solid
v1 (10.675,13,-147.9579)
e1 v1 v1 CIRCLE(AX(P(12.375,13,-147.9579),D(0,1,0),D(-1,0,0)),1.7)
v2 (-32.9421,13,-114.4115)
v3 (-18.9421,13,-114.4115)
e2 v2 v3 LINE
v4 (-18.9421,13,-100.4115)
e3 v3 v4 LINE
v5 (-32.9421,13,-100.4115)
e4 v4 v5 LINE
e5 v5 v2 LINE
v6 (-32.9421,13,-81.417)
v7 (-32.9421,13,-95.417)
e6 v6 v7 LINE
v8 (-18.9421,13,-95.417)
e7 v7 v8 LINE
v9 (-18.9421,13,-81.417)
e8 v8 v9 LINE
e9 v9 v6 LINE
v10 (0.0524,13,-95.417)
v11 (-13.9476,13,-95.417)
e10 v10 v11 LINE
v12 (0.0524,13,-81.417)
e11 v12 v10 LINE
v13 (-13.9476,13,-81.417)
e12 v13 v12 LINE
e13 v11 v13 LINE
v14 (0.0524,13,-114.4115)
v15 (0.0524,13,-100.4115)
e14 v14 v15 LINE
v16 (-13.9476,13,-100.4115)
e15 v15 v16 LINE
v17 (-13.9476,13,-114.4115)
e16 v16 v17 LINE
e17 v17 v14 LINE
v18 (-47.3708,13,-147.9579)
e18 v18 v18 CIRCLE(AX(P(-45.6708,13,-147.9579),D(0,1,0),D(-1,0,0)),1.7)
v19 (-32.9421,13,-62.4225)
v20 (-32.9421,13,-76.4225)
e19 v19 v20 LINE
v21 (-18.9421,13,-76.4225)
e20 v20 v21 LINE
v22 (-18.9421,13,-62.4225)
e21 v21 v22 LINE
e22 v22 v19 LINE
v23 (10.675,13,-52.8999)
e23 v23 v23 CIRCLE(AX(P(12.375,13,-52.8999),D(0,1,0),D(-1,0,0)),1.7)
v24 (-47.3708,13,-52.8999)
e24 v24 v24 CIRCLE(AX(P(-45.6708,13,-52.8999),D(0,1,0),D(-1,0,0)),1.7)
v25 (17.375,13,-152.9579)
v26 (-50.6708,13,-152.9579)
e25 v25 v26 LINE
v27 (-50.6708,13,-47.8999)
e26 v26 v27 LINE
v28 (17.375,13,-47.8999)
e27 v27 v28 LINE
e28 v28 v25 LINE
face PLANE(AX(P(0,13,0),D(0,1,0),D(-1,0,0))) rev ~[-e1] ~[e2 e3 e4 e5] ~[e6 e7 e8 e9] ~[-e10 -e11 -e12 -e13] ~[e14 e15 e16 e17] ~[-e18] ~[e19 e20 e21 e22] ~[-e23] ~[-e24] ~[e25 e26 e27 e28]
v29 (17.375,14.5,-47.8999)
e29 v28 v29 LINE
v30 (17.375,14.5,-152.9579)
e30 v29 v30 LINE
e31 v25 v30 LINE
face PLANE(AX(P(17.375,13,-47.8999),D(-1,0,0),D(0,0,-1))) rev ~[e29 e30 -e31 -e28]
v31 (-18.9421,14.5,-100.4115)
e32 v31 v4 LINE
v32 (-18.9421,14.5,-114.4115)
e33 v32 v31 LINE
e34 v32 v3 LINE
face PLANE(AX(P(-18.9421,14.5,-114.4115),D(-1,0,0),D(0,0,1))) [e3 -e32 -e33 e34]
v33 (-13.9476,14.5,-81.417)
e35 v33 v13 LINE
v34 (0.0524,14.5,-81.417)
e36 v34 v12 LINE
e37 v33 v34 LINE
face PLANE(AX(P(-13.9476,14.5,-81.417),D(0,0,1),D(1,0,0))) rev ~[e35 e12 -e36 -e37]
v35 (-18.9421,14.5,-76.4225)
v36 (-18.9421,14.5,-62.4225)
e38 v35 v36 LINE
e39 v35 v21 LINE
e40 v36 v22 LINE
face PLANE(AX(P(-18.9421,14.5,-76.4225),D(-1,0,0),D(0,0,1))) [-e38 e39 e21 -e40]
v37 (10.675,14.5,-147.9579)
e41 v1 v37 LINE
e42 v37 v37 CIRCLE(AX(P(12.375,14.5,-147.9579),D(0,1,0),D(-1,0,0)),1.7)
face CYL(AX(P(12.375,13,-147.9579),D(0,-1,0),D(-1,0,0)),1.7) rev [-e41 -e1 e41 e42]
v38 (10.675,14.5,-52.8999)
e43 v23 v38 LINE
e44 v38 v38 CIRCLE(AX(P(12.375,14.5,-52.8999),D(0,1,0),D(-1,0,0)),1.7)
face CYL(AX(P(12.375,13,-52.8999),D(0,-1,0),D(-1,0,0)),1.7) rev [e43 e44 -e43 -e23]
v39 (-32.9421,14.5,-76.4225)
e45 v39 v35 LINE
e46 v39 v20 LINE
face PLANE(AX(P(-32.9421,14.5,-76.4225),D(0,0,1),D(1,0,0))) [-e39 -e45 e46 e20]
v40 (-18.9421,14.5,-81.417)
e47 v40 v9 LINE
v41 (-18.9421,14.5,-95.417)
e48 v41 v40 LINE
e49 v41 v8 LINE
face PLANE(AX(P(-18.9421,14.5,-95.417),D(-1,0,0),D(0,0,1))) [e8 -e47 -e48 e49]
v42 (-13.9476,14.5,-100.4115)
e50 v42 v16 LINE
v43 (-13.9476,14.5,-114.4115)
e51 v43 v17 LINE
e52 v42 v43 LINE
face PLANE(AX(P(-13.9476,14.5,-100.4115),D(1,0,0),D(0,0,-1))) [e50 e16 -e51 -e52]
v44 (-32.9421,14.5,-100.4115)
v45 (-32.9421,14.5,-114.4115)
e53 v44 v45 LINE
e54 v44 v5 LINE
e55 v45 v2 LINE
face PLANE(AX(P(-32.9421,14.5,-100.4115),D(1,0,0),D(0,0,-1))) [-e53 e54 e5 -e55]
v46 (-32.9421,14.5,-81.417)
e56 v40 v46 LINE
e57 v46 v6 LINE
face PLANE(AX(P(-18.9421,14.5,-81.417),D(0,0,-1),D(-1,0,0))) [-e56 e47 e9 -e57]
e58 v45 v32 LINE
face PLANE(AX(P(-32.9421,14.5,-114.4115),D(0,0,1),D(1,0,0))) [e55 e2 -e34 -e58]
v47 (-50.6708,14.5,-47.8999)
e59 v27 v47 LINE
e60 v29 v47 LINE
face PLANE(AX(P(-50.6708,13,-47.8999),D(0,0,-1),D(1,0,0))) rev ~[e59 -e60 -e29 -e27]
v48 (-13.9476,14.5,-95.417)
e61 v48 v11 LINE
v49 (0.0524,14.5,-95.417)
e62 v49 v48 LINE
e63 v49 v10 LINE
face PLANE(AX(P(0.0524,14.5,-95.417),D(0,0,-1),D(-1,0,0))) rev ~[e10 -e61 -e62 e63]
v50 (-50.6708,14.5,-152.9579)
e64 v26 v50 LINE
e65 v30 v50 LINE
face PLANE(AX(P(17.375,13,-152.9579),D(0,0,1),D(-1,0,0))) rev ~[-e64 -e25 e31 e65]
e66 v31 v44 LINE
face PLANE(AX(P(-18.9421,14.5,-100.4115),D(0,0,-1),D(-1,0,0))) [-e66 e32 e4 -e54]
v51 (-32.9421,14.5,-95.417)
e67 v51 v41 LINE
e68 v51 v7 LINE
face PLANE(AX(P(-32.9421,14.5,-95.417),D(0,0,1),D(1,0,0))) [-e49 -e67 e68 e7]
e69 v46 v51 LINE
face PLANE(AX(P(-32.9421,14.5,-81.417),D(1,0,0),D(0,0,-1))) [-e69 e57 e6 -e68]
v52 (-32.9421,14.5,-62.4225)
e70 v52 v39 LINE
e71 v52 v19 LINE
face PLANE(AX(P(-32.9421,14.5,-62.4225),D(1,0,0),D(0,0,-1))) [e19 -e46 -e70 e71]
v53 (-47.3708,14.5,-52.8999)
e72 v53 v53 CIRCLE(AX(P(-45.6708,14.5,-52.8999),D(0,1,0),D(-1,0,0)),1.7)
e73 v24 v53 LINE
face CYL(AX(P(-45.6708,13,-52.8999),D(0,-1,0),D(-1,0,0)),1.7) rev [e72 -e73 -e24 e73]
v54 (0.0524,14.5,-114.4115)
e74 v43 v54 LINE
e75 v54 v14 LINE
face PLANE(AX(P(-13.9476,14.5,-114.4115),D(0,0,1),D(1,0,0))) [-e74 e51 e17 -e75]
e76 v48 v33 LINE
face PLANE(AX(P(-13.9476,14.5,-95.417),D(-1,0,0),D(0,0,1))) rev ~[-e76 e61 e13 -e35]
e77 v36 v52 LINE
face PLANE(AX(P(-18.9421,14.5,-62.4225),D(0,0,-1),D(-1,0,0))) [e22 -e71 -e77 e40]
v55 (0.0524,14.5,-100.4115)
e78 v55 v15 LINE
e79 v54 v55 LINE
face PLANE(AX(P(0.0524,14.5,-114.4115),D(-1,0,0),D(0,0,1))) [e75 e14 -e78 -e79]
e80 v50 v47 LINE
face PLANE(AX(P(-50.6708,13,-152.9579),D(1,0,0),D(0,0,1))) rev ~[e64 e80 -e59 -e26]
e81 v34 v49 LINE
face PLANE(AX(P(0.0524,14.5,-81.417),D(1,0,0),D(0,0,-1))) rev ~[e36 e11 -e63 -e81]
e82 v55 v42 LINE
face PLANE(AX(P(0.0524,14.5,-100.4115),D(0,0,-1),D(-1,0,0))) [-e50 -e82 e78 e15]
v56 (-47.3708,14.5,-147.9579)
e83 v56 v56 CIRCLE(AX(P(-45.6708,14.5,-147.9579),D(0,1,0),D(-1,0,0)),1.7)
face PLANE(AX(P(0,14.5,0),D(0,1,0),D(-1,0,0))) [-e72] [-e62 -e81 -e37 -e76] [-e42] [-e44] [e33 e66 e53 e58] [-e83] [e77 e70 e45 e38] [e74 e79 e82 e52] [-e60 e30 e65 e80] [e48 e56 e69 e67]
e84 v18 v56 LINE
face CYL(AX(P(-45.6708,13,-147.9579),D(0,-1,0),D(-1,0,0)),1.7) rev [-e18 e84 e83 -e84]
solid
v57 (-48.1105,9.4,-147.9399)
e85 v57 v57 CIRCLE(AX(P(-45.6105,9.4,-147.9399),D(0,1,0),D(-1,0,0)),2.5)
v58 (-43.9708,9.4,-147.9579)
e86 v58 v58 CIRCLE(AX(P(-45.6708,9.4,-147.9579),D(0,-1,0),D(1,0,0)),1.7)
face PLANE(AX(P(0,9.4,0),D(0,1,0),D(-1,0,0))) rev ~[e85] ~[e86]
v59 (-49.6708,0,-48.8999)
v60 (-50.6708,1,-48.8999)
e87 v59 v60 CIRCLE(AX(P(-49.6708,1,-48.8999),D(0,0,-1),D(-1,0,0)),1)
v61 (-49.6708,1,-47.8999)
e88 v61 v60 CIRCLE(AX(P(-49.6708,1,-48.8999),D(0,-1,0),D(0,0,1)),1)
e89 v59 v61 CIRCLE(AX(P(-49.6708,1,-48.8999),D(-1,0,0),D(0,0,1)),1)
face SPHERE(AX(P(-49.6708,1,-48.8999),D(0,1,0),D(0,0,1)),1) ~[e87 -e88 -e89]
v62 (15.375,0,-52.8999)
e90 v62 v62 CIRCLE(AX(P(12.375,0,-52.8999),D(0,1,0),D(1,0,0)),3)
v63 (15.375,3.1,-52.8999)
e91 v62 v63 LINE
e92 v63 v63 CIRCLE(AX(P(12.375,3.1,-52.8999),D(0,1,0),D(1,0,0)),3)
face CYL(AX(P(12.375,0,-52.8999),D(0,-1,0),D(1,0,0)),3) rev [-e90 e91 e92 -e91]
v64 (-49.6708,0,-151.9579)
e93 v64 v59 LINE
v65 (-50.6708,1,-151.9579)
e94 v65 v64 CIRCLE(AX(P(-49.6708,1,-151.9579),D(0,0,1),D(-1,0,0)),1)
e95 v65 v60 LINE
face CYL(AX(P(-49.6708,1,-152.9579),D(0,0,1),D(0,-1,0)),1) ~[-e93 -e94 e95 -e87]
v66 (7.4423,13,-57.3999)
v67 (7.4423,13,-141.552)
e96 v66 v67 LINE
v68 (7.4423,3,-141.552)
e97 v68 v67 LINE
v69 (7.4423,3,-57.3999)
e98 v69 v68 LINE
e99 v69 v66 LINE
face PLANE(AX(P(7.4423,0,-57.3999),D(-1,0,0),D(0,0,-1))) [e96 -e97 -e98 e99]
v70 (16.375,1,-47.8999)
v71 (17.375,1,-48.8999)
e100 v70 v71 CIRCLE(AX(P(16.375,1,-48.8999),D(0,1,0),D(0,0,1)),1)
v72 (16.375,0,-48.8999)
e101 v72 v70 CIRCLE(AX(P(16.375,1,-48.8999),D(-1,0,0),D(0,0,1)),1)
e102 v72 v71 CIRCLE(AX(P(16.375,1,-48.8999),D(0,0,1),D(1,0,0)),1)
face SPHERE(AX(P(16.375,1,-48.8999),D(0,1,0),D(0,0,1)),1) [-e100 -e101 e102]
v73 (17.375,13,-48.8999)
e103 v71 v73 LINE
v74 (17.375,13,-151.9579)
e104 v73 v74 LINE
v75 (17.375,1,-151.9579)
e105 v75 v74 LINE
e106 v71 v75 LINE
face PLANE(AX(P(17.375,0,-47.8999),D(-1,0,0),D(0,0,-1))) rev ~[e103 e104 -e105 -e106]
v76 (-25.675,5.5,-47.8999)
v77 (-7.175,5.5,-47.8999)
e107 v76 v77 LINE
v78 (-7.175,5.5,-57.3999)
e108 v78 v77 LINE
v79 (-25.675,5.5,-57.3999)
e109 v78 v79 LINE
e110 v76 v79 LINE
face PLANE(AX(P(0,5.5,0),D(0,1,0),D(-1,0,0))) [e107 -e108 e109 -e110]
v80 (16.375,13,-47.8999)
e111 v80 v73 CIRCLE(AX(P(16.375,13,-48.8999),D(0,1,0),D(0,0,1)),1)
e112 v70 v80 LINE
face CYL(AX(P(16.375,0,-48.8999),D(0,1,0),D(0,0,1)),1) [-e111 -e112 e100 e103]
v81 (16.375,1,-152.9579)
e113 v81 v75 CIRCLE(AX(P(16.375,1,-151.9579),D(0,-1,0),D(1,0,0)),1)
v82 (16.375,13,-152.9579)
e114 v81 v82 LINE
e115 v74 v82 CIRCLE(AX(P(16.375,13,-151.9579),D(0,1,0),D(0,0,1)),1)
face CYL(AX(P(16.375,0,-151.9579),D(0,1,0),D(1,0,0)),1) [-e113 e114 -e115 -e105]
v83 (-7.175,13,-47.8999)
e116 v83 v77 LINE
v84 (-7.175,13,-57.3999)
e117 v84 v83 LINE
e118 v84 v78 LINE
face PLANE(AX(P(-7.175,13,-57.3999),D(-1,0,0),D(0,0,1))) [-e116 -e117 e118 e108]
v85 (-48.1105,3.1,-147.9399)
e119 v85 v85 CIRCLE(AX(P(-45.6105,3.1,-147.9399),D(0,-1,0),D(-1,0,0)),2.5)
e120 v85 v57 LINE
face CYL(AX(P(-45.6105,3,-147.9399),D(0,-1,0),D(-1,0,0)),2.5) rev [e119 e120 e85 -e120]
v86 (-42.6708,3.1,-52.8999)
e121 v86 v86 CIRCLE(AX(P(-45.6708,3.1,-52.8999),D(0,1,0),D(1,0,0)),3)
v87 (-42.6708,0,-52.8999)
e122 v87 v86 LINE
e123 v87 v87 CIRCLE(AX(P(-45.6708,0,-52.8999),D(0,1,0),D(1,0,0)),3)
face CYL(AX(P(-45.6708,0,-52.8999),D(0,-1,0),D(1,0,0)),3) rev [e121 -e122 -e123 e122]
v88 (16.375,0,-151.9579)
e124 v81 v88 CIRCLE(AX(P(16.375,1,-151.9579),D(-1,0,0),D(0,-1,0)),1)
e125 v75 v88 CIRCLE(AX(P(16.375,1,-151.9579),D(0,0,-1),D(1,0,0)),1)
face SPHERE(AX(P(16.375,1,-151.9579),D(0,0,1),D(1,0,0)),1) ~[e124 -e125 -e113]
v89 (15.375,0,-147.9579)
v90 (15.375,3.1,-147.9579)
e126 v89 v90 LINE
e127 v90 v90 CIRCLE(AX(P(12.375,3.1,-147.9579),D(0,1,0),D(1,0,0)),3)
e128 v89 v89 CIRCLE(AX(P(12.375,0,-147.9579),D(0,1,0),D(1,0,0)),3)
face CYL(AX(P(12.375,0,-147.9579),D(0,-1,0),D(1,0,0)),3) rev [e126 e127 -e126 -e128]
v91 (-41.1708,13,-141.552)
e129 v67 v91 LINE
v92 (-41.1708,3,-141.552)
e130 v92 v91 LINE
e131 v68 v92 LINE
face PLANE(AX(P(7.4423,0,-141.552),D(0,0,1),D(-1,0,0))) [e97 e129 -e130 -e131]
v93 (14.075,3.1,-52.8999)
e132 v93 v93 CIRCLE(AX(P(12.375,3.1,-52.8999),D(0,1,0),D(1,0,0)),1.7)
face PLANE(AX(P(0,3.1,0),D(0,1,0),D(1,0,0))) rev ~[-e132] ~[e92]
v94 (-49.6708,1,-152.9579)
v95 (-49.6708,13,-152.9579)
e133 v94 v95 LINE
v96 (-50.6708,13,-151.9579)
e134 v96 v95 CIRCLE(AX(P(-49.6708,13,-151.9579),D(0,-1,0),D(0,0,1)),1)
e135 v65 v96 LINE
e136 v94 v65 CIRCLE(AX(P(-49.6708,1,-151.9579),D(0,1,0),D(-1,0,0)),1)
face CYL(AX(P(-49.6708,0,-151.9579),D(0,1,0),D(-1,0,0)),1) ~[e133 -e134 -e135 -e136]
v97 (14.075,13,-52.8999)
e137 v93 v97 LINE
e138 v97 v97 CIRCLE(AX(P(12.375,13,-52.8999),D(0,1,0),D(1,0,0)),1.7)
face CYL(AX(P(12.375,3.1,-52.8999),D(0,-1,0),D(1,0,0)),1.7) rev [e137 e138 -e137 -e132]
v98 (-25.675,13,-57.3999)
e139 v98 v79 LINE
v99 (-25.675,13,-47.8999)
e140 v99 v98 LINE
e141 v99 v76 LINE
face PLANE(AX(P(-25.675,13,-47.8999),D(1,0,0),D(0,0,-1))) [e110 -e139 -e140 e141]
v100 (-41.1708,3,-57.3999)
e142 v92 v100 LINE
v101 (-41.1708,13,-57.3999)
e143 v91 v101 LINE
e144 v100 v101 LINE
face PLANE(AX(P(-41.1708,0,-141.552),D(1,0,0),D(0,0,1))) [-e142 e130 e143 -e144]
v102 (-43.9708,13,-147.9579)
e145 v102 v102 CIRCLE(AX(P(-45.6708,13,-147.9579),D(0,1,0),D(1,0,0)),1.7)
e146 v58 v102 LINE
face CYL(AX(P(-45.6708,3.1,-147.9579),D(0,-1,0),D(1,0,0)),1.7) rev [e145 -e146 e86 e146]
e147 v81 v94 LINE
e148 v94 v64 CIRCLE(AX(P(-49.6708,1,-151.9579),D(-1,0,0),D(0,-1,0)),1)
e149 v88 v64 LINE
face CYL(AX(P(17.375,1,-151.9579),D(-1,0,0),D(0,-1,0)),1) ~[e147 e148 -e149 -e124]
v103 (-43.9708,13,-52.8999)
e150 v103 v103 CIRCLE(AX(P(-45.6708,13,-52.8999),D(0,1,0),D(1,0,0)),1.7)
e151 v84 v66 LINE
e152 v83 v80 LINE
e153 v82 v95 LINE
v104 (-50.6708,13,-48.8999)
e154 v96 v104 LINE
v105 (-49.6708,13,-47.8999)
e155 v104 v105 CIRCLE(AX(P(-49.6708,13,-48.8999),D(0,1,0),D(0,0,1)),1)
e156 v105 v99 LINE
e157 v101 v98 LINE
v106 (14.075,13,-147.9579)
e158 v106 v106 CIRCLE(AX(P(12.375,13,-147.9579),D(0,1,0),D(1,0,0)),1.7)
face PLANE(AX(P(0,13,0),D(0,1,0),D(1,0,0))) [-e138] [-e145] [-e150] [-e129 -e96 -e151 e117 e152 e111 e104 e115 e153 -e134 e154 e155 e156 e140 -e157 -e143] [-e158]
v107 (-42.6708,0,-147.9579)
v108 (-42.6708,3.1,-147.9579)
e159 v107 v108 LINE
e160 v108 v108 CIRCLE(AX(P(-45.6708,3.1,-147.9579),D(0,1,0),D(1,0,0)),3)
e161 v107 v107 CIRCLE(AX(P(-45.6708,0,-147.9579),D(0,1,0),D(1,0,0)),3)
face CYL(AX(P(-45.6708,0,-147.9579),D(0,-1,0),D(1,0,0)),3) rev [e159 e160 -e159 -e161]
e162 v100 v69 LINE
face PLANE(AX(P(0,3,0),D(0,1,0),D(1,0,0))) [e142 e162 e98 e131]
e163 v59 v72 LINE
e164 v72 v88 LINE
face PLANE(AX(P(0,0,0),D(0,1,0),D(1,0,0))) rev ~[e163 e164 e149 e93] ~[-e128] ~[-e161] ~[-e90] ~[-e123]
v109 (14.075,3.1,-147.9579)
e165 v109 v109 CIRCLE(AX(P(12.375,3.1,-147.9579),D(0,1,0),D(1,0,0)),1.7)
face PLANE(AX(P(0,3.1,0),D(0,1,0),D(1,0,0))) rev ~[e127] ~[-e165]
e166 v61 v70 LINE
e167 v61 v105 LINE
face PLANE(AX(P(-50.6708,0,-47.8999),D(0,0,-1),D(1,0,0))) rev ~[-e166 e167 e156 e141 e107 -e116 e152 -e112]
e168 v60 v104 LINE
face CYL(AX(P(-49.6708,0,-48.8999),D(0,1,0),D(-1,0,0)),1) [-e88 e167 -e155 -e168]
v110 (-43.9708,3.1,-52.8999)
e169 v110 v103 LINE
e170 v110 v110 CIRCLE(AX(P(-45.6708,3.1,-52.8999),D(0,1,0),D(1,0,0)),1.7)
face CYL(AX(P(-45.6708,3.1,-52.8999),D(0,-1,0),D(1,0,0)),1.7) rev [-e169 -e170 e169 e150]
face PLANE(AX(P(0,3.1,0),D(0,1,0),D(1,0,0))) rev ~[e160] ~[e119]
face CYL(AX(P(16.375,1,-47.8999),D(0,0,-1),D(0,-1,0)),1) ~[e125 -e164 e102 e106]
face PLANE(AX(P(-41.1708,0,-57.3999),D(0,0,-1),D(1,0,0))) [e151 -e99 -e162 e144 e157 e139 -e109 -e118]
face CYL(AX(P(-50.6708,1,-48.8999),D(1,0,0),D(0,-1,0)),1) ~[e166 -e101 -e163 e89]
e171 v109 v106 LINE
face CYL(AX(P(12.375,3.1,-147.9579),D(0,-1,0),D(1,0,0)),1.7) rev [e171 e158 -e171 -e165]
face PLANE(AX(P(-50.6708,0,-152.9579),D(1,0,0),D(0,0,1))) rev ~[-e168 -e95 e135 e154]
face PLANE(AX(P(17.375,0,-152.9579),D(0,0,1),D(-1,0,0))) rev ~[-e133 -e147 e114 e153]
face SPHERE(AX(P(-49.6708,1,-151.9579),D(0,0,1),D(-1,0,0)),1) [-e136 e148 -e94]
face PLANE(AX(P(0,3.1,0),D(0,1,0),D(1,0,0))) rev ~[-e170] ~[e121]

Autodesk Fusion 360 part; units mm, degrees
sketch "Sketch1" plane through (0, 0, 0) normal (0, 1, 0) x (1, 0, 0)
  line L0 (-41.1708, 57.3999) -> (7.4423, 57.3999)
  line L1 (7.4423, 57.3999) -> (7.4423, 141.552)
  line L2 (7.4423, 141.552) -> (-41.1708, 141.552)
  line L3 (-41.1708, 141.552) -> (-41.1708, 57.3999)
  line L4 (-50.6708, 47.8999) -> (17.375, 47.8999)
  line L5 (17.375, 47.8999) -> (17.375, 152.9579)
  line L6 (17.375, 152.9579) -> (-50.6708, 152.9579)
  line L7 (-50.6708, 152.9579) -> (-50.6708, 47.8999)
  circle A0 centre (-45.6708, 147.9579) radius 1.7
  circle A1 centre (-45.6708, 52.8999) radius 1.7
  circle A2 centre (12.375, 52.8999) radius 1.7
  circle A3 centre (12.375, 147.9579) radius 1.7
  circle A4 centre (-45.6708, 52.8999) radius 3
  circle A5 centre (12.375, 52.8999) radius 3
  circle A6 centre (12.375, 147.9579) radius 3
  circle A7 centre (-45.6708, 147.9579) radius 3
  dimension "d1" = 105.058
  dimension "d2" = 68.0458
  dimension "d3" = 48.6131
  dimension "d4" = 84.1522
  dimension "d5" = 9.5
  dimension "d6" = 9.5
  dimension "d7" = 3.4
  dimension "d8" = 5
  dimension "d9" = 5
  dimension "d10" = 3.4
  dimension "d11" = 5
  dimension "d12" = 5
  dimension "d13" = 3.4
  dimension "d14" = 5
  dimension "d15" = 5
  dimension "d16" = 3.4
  dimension "d17" = 5
  dimension "d18" = 5
  dimension "d19" = 6
  dimension "d20" = 6
  dimension "d21" = 6
  dimension "d22" = 6
extrude "Extrude1" add sketch "Sketch1" along normal blind 9.9 from surface at 3.1 contours A4 | A5 | A6 | A7 makes body 1 at (-48.667, 9.7, -52.7503) makes body 2 at (-42.9063, 9.7, -149.1232) makes body 3 at (15.3713, 9.7, -52.7503) makes body 4 at (9.6106, 9.7, -149.1232)
extrude "Extrude2" add sketch "Sketch1" along normal blind 13 contours L4 L5 L6 L7 bodies 1 2 3 4
extrude "Extrude3" add sketch "Sketch1" along normal blind 3 contours L0 L1 L2 L3 bodies 1
sketch "Sketch2" plane through (0, 13, 0) normal (0, 1, 0) x (-1, 0, 0)
  circle A0 centre (45.6708, -52.8999) radius 1.7
  circle A1 centre (-12.375, -147.9579) radius 1.7
  line L0 (41.1708, -57.3999) -> (41.1708, -141.552)
  line L1 (41.1708, -141.552) -> (-7.4423, -141.552)
  line L2 (-7.4423, -141.552) -> (-7.4423, -57.3999)
  line L3 (-7.4423, -57.3999) -> (41.1708, -57.3999)
  line L4 (50.6708, -152.9579) -> (50.6708, -47.8999)
  line L5 (50.6708, -47.8999) -> (-17.375, -47.8999)
  line L6 (-17.375, -47.8999) -> (-17.375, -152.9579)
  line L7 (-17.375, -152.9579) -> (50.6708, -152.9579)
  circle A2 centre (45.6708, -147.9579) radius 1.7
  circle A3 centre (-12.375, -52.8999) radius 1.7
  line L8 (7.175, -47.8999) -> (25.675, -47.8999)
  line L9 (25.675, -47.8999) -> (25.675, -57.3999)
  line L10 (25.675, -57.3999) -> (7.175, -57.3999)
  line L11 (7.175, -57.3999) -> (7.175, -47.8999)
  line L12 (-17.375, -47.8999) -> (-17.375, -152.9579)
  line L13 (-17.375, -152.9579) -> (50.6708, -152.9579)
  line L14 (50.6708, -152.9579) -> (50.6708, -47.8999)
  line L15 (50.6708, -47.8999) -> (-17.375, -47.8999)
  line L16 (-17.375, -47.8999) -> (-17.375, -152.9579)
  point P0 (50.6708, -152.9579)
  point P1 (-17.375, -152.9579)
  point P2 (50.6708, -47.8999)
  point P3 (-17.375, -47.8999)
  dimension "d30" = 18.5
  dimension "d32" = 24.55
extrude "Extrude4" cut sketch "Sketch2" against normal blind 7.5 contours L3 L5 L8 L9 L10 L11 L15 bodies 1
sketch "Sketch3" plane through (0, 0, 0) normal (0, 1, 0) x (1, 0, 0)
sketch "Sketch4" plane through (0, 3, 0) normal (0, 1, 0) x (-1, 0, 0)
  line L0 (41.1708, -141.552) -> (41.1708, -57.3999)
  line L1 (41.1708, -57.3999) -> (-7.4423, -57.3999)
  line L2 (-7.4423, -57.3999) -> (-7.4423, -141.552)
  line L3 (-7.4423, -141.552) -> (41.1708, -141.552)
  line L4 (6.8441, -1.7803) -> (6.8447, -1.7809)
  line L5 (6.8447, -1.7809) -> (6.8447, -1.7812)
  line L6 (6.8447, -1.7812) -> (6.8447, -5.0625)
  line L7 (6.8447, -5.0625) -> (6.8447, -5.0629)
  line L8 (6.8447, -5.0629) -> (6.8441, -5.0634)
  line L9 (6.8441, -5.0634) -> (6.8438, -5.0635)
  line L10 (6.8438, -5.0635) -> (4.9688, -5.0635)
  line L11 (4.9688, -5.0635) -> (4.9684, -5.0634)
  line L12 (4.9684, -5.0634) -> (4.9678, -5.0629)
  line L13 (4.9678, -5.0629) -> (4.9678, -5.0625)
  line L14 (4.9678, -5.0625) -> (4.9678, -1.7812)
  line L15 (4.9678, -1.7812) -> (4.9678, -1.7809)
  line L16 (4.9678, -1.7809) -> (4.9684, -1.7803)
  line L17 (4.9684, -1.7803) -> (4.9688, -1.7803)
  line L18 (4.9688, -1.7803) -> (6.8438, -1.7803)
  line L19 (6.8438, -1.7803) -> (6.8441, -1.7803)
  line L20 (4.9697, -1.7822) -> (4.9697, -5.0615)
  line L21 (4.9697, -5.0615) -> (6.8428, -5.0615)
  line L22 (6.8428, -5.0615) -> (6.8428, -1.7822)
  line L23 (6.8428, -1.7822) -> (4.9697, -1.7822)
  circle A0 centre (6.75, -4.9688) radius 0.0433
  circle A1 centre (5.0625, -4.9688) radius 0.0433
  circle A2 centre (6.75, -1.875) radius 0.0433
  circle A3 centre (5.0625, -1.875) radius 0.0433
  circle A4 centre (5.3312, -3.0938) radius 0.0335
  circle A5 centre (5.5312, -3.0938) radius 0.0787
  circle A6 centre (5.7313, -3.0938) radius 0.0335
  circle A7 centre (5.6312, -2.8937) radius 0.0295
  circle A8 centre (5.3812, -2.9937) radius 0.0295
  circle A9 centre (6.0813, -3.0938) radius 0.0335
  circle A10 centre (6.2812, -3.0938) radius 0.0787
  circle A11 centre (6.4813, -3.0938) radius 0.0335
  circle A12 centre (6.3813, -2.8937) radius 0.0295
  circle A13 centre (6.1313, -2.9937) radius 0.0295
  circle A14 centre (5.5858, -1.8956) radius 0.0175
  circle A15 centre (5.5858, -1.9956) radius 0.0175
  circle A16 centre (5.5858, -2.0956) radius 0.0175
  circle A17 centre (5.5858, -2.1956) radius 0.0175
  circle A18 centre (5.5858, -2.2956) radius 0.0175
  circle A19 centre (5.5858, -2.3956) radius 0.0175
  circle A20 centre (5.5858, -2.4956) radius 0.0175
  circle A21 centre (6.1858, -2.4956) radius 0.0175
  circle A22 centre (6.1858, -2.3956) radius 0.0175
  circle A23 centre (6.1858, -2.2956) radius 0.0175
  circle A24 centre (6.1858, -2.1956) radius 0.0175
  circle A25 centre (6.1858, -2.0956) radius 0.0175
  circle A26 centre (6.1858, -1.9956) radius 0.0175
  circle A27 centre (6.1858, -1.8956) radius 0.0175
  circle A28 centre (6.0813, -3.8438) radius 0.0335
  circle A29 centre (6.2812, -3.8438) radius 0.0787
  circle A30 centre (6.4813, -3.8438) radius 0.0335
  circle A31 centre (6.3813, -3.6437) radius 0.0295
  circle A32 centre (6.1313, -3.7438) radius 0.0295
  circle A33 centre (5.3312, -3.8438) radius 0.0335
  circle A34 centre (5.5312, -3.8438) radius 0.0787
  circle A35 centre (5.7313, -3.8438) radius 0.0335
  circle A36 centre (5.6312, -3.6437) radius 0.0295
  circle A37 centre (5.3812, -3.7438) radius 0.0295
  circle A38 centre (5.3312, -4.5938) radius 0.0335
  circle A39 centre (5.5312, -4.5938) radius 0.0787
  circle A40 centre (5.7313, -4.5938) radius 0.0335
  circle A41 centre (5.6312, -4.3937) radius 0.0295
  circle A42 centre (5.3812, -4.4938) radius 0.0295
  circle A43 centre (6.75, -4.9688) radius 0.0433
  circle A44 centre (5.0625, -4.9688) radius 0.0433
  circle A45 centre (6.75, -1.875) radius 0.0433
  circle A46 centre (5.0625, -1.875) radius 0.0433
  circle A47 centre (5.3312, -3.0938) radius 0.0335
  circle A48 centre (5.5312, -3.0938) radius 0.0787
  circle A49 centre (5.7313, -3.0938) radius 0.0335
  circle A50 centre (5.6312, -2.8937) radius 0.0295
  circle A51 centre (5.3812, -2.9937) radius 0.0295
  circle A52 centre (6.0813, -3.0938) radius 0.0335
  circle A53 centre (6.2812, -3.0938) radius 0.0787
  circle A54 centre (6.4813, -3.0938) radius 0.0335
  circle A55 centre (6.3813, -2.8937) radius 0.0295
  circle A56 centre (6.1313, -2.9937) radius 0.0295
  circle A57 centre (5.5858, -1.8956) radius 0.0175
  circle A58 centre (5.5858, -1.9956) radius 0.0175
  circle A59 centre (5.5858, -2.0956) radius 0.0175
  circle A60 centre (5.5858, -2.1956) radius 0.0175
  circle A61 centre (5.5858, -2.2956) radius 0.0175
  circle A62 centre (5.5858, -2.3956) radius 0.0175
  circle A63 centre (5.5858, -2.4956) radius 0.0175
  circle A64 centre (6.1858, -2.4956) radius 0.0175
  circle A65 centre (6.1858, -2.3956) radius 0.0175
  circle A66 centre (6.1858, -2.2956) radius 0.0175
  circle A67 centre (6.1858, -2.1956) radius 0.0175
  circle A68 centre (6.1858, -2.0956) radius 0.0175
  circle A69 centre (6.1858, -1.9956) radius 0.0175
  circle A70 centre (6.1858, -1.8956) radius 0.0175
  circle A71 centre (6.0813, -3.8438) radius 0.0335
  circle A72 centre (6.2812, -3.8438) radius 0.0787
  circle A73 centre (6.4813, -3.8438) radius 0.0335
  circle A74 centre (6.3813, -3.6437) radius 0.0295
  circle A75 centre (6.1313, -3.7438) radius 0.0295
  circle A76 centre (5.3312, -3.8438) radius 0.0335
  circle A77 centre (5.5312, -3.8438) radius 0.0787
  circle A78 centre (5.7313, -3.8438) radius 0.0335
  circle A79 centre (5.6312, -3.6437) radius 0.0295
  circle A80 centre (5.3812, -3.7438) radius 0.0295
  circle A81 centre (5.3312, -4.5938) radius 0.0335
  circle A82 centre (5.5312, -4.5938) radius 0.0787
  circle A83 centre (5.7313, -4.5938) radius 0.0335
  circle A84 centre (5.6312, -4.3937) radius 0.0295
  circle A85 centre (5.3812, -4.4938) radius 0.0295
  circle A86 centre (45.6105, -147.9399) radius 2.5
  circle A87 centre (-12.2673, -147.927) radius 2.5
  curve A88
  circle A89 centre (-12.3196, -52.8556) radius 2.5
  dimension "d35" = 5
  dimension "d36" = 5
  dimension "d37" = 5
  dimension "d38" = 5
extrude "Extrude5" cut sketch "Sketch4" along normal blind 6.4 contours A86 bodies 1
sketch "macropad-Edge_Cuts" plane through (0, 3, 0) normal (0, 1, 0) x (0, 0, 1)
  line L0 (6.8441, -1.7803) -> (6.8447, -1.7809)
  line L1 (6.8447, -1.7809) -> (6.8447, -1.7812)
  line L2 (6.8447, -1.7812) -> (6.8447, -5.0625)
  line L3 (6.8447, -5.0625) -> (6.8447, -5.0629)
  line L4 (6.8447, -5.0629) -> (6.8441, -5.0634)
  line L5 (6.8441, -5.0634) -> (6.8438, -5.0635)
  line L6 (6.8438, -5.0635) -> (4.9688, -5.0635)
  line L7 (4.9688, -5.0635) -> (4.9684, -5.0634)
  line L8 (4.9684, -5.0634) -> (4.9678, -5.0629)
  line L9 (4.9678, -5.0629) -> (4.9678, -5.0625)
  line L10 (4.9678, -5.0625) -> (4.9678, -1.7812)
  line L11 (4.9678, -1.7812) -> (4.9678, -1.7809)
  line L12 (4.9678, -1.7809) -> (4.9684, -1.7803)
  line L13 (4.9684, -1.7803) -> (4.9688, -1.7803)
  line L14 (4.9688, -1.7803) -> (6.8438, -1.7803)
  line L15 (6.8438, -1.7803) -> (6.8441, -1.7803)
  line L16 (4.9697, -1.7822) -> (4.9697, -5.0615)
  line L17 (4.9697, -5.0615) -> (6.8428, -5.0615)
  line L18 (6.8428, -5.0615) -> (6.8428, -1.7822)
  line L19 (6.8428, -1.7822) -> (4.9697, -1.7822)
  circle A0 centre (6.75, -4.9688) radius 0.0433
  circle A1 centre (-33.7206, -2.9937) radius 0.0433
  circle A2 centre (6.75, -1.875) radius 0.0433
  circle A3 centre (5.0625, -1.875) radius 0.0433
  circle A4 centre (5.3312, -3.0938) radius 0.0335
  circle A5 centre (5.5312, -3.0938) radius 0.0787
  circle A6 centre (5.7313, -3.0938) radius 0.0335
  circle A7 centre (5.6312, -2.8937) radius 0.0295
  circle A8 centre (5.3812, -2.9937) radius 0.0295
  circle A9 centre (6.0813, -3.0938) radius 0.0335
  circle A10 centre (6.2812, -3.0938) radius 0.0787
  circle A11 centre (6.4813, -3.0938) radius 0.0335
  circle A12 centre (6.3813, -2.8937) radius 0.0295
  circle A13 centre (6.1313, -2.9937) radius 0.0295
  circle A14 centre (5.5858, -1.8956) radius 0.0175
  circle A15 centre (5.5858, -1.9956) radius 0.0175
  circle A16 centre (5.5858, -2.0956) radius 0.0175
  circle A17 centre (5.5858, -2.1956) radius 0.0175
  circle A18 centre (5.5858, -2.2956) radius 0.0175
  circle A19 centre (5.5858, -2.3956) radius 0.0175
  circle A20 centre (5.5858, -2.4956) radius 0.0175
  circle A21 centre (6.1858, -2.4956) radius 0.0175
  circle A22 centre (6.1858, -2.3956) radius 0.0175
  circle A23 centre (6.1858, -2.2956) radius 0.0175
  circle A24 centre (6.1858, -2.1956) radius 0.0175
  circle A25 centre (6.1858, -2.0956) radius 0.0175
  circle A26 centre (6.1858, -1.9956) radius 0.0175
  circle A27 centre (6.1858, -1.8956) radius 0.0175
  circle A28 centre (6.0813, -3.8438) radius 0.0335
  circle A29 centre (6.2812, -3.8438) radius 0.0787
  circle A30 centre (6.4813, -3.8438) radius 0.0335
  circle A31 centre (6.3813, -3.6437) radius 0.0295
  circle A32 centre (6.1313, -3.7438) radius 0.0295
  circle A33 centre (5.3312, -3.8438) radius 0.0335
  circle A34 centre (5.5312, -3.8438) radius 0.0787
  circle A35 centre (5.7313, -3.8438) radius 0.0335
  circle A36 centre (5.6312, -3.6437) radius 0.0295
  circle A37 centre (-20, -90) radius 0.0295
  circle A38 centre (5.3312, -4.5938) radius 0.0335
  circle A39 centre (5.5312, -4.5938) radius 0.0787
  circle A40 centre (-20, -30) radius 0.0335
  circle A41 centre (5.6312, -4.3937) radius 0.0295
  circle A42 centre (5.3812, -4.4938) radius 0.0295
  circle A43 centre (-34.7247, -73.7928) radius 0.0433
  circle A44 centre (5.0625, -4.9688) radius 0.0433
  circle A45 centre (6.75, -1.875) radius 0.0433
  circle A46 centre (5.0625, -1.875) radius 0.0433
  circle A47 centre (5.3312, -3.0938) radius 0.0335
  circle A48 centre (5.5312, -3.0938) radius 0.0787
  circle A49 centre (5.7313, -3.0938) radius 0.0335
  circle A50 centre (5.6312, -2.8937) radius 0.0295
  circle A51 centre (5.3812, -2.9937) radius 0.0295
  circle A52 centre (6.0813, -3.0938) radius 0.0335
  circle A53 centre (6.2812, -3.0938) radius 0.0787
  circle A54 centre (6.4813, -3.0938) radius 0.0335
  circle A55 centre (6.3813, -2.8937) radius 0.0295
  circle A56 centre (6.1313, -2.9937) radius 0.0295
  circle A57 centre (5.5858, -1.8956) radius 0.0175
  circle A58 centre (5.5858, -1.9956) radius 0.0175
  circle A59 centre (5.5858, -2.0956) radius 0.0175
  circle A60 centre (5.5858, -2.1956) radius 0.0175
  circle A61 centre (5.5858, -2.2956) radius 0.0175
  circle A62 centre (5.5858, -2.3956) radius 0.0175
  circle A63 centre (5.5858, -2.4956) radius 0.0175
  circle A64 centre (6.1858, -2.4956) radius 0.0175
  circle A65 centre (6.1858, -2.3956) radius 0.0175
  circle A66 centre (6.1858, -2.2956) radius 0.0175
  circle A67 centre (6.1858, -2.1956) radius 0.0175
  circle A68 centre (6.1858, -2.0956) radius 0.0175
  circle A69 centre (6.1858, -1.9956) radius 0.0175
  circle A70 centre (6.1858, -1.8956) radius 0.0175
  circle A71 centre (-40.0793, -83.4982) radius 0.0335
  circle A72 centre (6.2812, -3.8438) radius 0.0787
  circle A73 centre (6.4813, -3.8438) radius 0.0335
  circle A74 centre (6.3813, -3.6437) radius 0.0295
  circle A75 centre (-30.374, -73.7928) radius 0.0295
  circle A76 centre (-30, -50) radius 0.0335
  circle A77 centre (5.5312, -3.8438) radius 0.0787
  circle A78 centre (5.7313, -3.8438) radius 0.0335
  circle A79 centre (5.6312, -3.6437) radius 0.0295
  circle A80 centre (-14.9792, -54.0474) radius 0.0295
  circle A81 centre (5.3312, -4.5938) radius 0.0335
  circle A82 centre (5.5312, -4.5938) radius 0.0787
  circle A83 centre (5.7313, -4.5938) radius 0.0335
  circle A84 centre (-44.43, -96.2155) radius 0.0295
  circle A85 centre (5.3812, -4.4938) radius 0.0295
extrude "Extrude6" add sketch "Sketch2" along normal blind 1.5 separate body makes body 5
sketch "Sketch6" plane through (0, 14.5, 0) normal (0, 1, 0) x (-1, 0, 0)
  circle A0 centre (45.6708, -147.9579) radius 1.7
  circle A1 centre (-12.375, -147.9579) radius 1.7
  circle A2 centre (45.6708, -52.8999) radius 1.7
  circle A3 centre (-12.375, -52.8999) radius 1.7
  line L0 (-17.375, -47.8999) -> (-17.375, -152.9579)
  line L1 (-17.375, -152.9579) -> (50.6708, -152.9579)
  line L2 (50.6708, -152.9579) -> (50.6708, -47.8999)
  line L3 (50.6708, -47.8999) -> (-17.375, -47.8999)
  line L4 (-7.3078, -140.6749) -> (-7.3213, -140.6614)
  line L5 (-7.3213, -140.6614) -> (-7.3232, -140.6519)
  line L6 (-7.3232, -140.6519) -> (-7.3232, -57.5509)
  line L7 (-7.3232, -57.5509) -> (-7.3213, -57.5414)
  line L8 (-7.3213, -57.5414) -> (-7.3078, -57.5279)
  line L9 (-7.3078, -57.5279) -> (-7.2983, -57.526)
  line L10 (-7.2983, -57.526) -> (40.188, -57.526)
  line L11 (40.188, -57.526) -> (40.1975, -57.5279)
  line L12 (40.1975, -57.5279) -> (40.211, -57.5414)
  line L13 (40.211, -57.5414) -> (40.2129, -57.5509)
  line L14 (40.2129, -57.5509) -> (40.2129, -140.6519)
  line L15 (40.2129, -140.6519) -> (40.211, -140.6614)
  line L16 (40.211, -140.6614) -> (40.1975, -140.6749)
  line L17 (40.1975, -140.6749) -> (40.188, -140.6768)
  line L18 (40.188, -140.6768) -> (-7.2983, -140.6768)
  line L19 (-7.2983, -140.6768) -> (-7.3078, -140.6749)
  line L20 (40.163, -140.6269) -> (40.163, -57.5758)
  line L21 (40.163, -57.5758) -> (-7.2734, -57.5758)
  line L22 (-7.2734, -57.5758) -> (-7.2734, -140.6269)
  line L23 (-7.2734, -140.6269) -> (40.163, -140.6269)
  circle A4 centre (-4.924, -59.9252) radius 1.0968
  circle A5 centre (37.8137, -59.9252) radius 1.0968
  circle A6 centre (-4.924, -138.2775) radius 1.0968
  circle A7 centre (37.8137, -138.2775) radius 1.0968
  circle A8 centre (31.0073, -107.4115) radius 0.8475
  circle A9 centre (25.9421, -107.4115) radius 1.9942
  circle A10 centre (20.8769, -107.4115) radius 0.8475
  circle A11 centre (23.4095, -112.4767) radius 0.7478
  circle A12 centre (29.741, -109.9441) radius 0.7478
  circle A13 centre (12.0128, -107.4115) radius 0.8475
  circle A14 centre (6.9476, -107.4115) radius 1.9942
  circle A15 centre (1.8824, -107.4115) radius 0.8475
  circle A16 centre (4.415, -112.4767) radius 0.7478
  circle A17 centre (10.7465, -109.9441) radius 0.7478
  circle A18 centre (24.5599, -137.7556) radius 0.4432
  circle A19 centre (24.5599, -135.223) radius 0.4432
  circle A20 centre (24.5599, -132.6904) radius 0.4432
  circle A21 centre (24.5599, -130.1578) radius 0.4432
  circle A22 centre (24.5599, -127.6252) radius 0.4432
  circle A23 centre (24.5599, -125.0926) radius 0.4432
  circle A24 centre (24.5599, -122.56) radius 0.4432
  circle A25 centre (9.3643, -122.56) radius 0.4432
  circle A26 centre (9.3643, -125.0926) radius 0.4432
  circle A27 centre (9.3643, -127.6252) radius 0.4432
  circle A28 centre (9.3643, -130.1578) radius 0.4432
  circle A29 centre (9.3643, -132.6904) radius 0.4432
  circle A30 centre (9.3643, -135.223) radius 0.4432
  circle A31 centre (9.3643, -137.7556) radius 0.4432
  circle A32 centre (12.0128, -88.417) radius 0.8475
  circle A33 centre (6.9476, -88.417) radius 1.9942
  circle A34 centre (1.8824, -88.417) radius 0.8475
  circle A35 centre (4.415, -93.4822) radius 0.7478
  circle A36 centre (10.7465, -90.9496) radius 0.7478
  circle A37 centre (31.0073, -88.417) radius 0.8475
  circle A38 centre (25.9421, -88.417) radius 1.9942
  circle A39 centre (20.8769, -88.417) radius 0.8475
  circle A40 centre (23.4095, -93.4822) radius 0.7478
  circle A41 centre (29.741, -90.9496) radius 0.7478
  circle A42 centre (31.0073, -69.4225) radius 0.8475
  circle A43 centre (25.9421, -69.4225) radius 1.9942
  circle A44 centre (20.8769, -69.4225) radius 0.8475
  circle A45 centre (23.4095, -74.4877) radius 0.7478
  circle A46 centre (29.741, -71.9551) radius 0.7478
  circle A47 centre (-4.924, -59.9252) radius 1.0968
  circle A48 centre (37.8137, -59.9252) radius 1.0968
  circle A49 centre (-4.924, -138.2775) radius 1.0968
  circle A50 centre (37.8137, -138.2775) radius 1.0968
  circle A51 centre (31.0073, -107.4115) radius 0.8475
  circle A52 centre (25.9421, -107.4115) radius 1.9942
  circle A53 centre (20.8769, -107.4115) radius 0.8475
  circle A54 centre (23.4095, -112.4767) radius 0.7478
  circle A55 centre (29.741, -109.9441) radius 0.7478
  circle A56 centre (12.0128, -107.4115) radius 0.8475
  circle A57 centre (6.9476, -107.4115) radius 1.9942
  circle A58 centre (1.8824, -107.4115) radius 0.8475
  circle A59 centre (4.415, -112.4767) radius 0.7478
  circle A60 centre (10.7465, -109.9441) radius 0.7478
  circle A61 centre (24.5599, -137.7556) radius 0.4432
  circle A62 centre (24.5599, -135.223) radius 0.4432
  circle A63 centre (24.5599, -132.6904) radius 0.4432
  circle A64 centre (24.5599, -130.1578) radius 0.4432
  circle A65 centre (24.5599, -127.6252) radius 0.4432
  circle A66 centre (24.5599, -125.0926) radius 0.4432
  circle A67 centre (24.5599, -122.56) radius 0.4432
  circle A68 centre (9.3643, -122.56) radius 0.4432
  circle A69 centre (9.3643, -125.0926) radius 0.4432
  circle A70 centre (9.3643, -127.6252) radius 0.4432
  circle A71 centre (9.3643, -130.1578) radius 0.4432
  circle A72 centre (9.3643, -132.6904) radius 0.4432
  circle A73 centre (9.3643, -135.223) radius 0.4432
  circle A74 centre (9.3643, -137.7556) radius 0.4432
  circle A75 centre (12.0128, -88.417) radius 0.8475
  circle A76 centre (6.9476, -88.417) radius 1.9942
  circle A77 centre (1.8824, -88.417) radius 0.8475
  circle A78 centre (4.415, -93.4822) radius 0.7478
  circle A79 centre (10.7465, -90.9496) radius 0.7478
  circle A80 centre (31.0073, -88.417) radius 0.8475
  circle A81 centre (25.9421, -88.417) radius 1.9942
  circle A82 centre (20.8769, -88.417) radius 0.8475
  circle A83 centre (23.4095, -93.4822) radius 0.7478
  circle A84 centre (29.741, -90.9496) radius 0.7478
  circle A85 centre (31.0073, -69.4225) radius 0.8475
  circle A86 centre (25.9421, -69.4225) radius 1.9942
  circle A87 centre (20.8769, -69.4225) radius 0.8475
  circle A88 centre (23.4095, -74.4877) radius 0.7478
  circle A89 centre (29.741, -71.9551) radius 0.7478
  line L24 (0.9476, -82.417) -> (12.9476, -82.417)
  line L25 (12.9476, -82.417) -> (12.9476, -94.417)
  line L26 (12.9476, -94.417) -> (0.9476, -94.417)
  line L27 (0.9476, -94.417) -> (0.9476, -82.417)
  line L28 (0.9476, -82.417) -> (12.9476, -94.417) construction
  line L29 (12.9476, -82.417) -> (0.9476, -94.417) construction
  line L30 (31.9421, -63.4225) -> (19.9421, -63.4225)
  line L31 (19.9421, -63.4225) -> (19.9421, -75.4225)
  line L32 (19.9421, -75.4225) -> (31.9421, -75.4225)
  line L33 (31.9421, -75.4225) -> (31.9421, -63.4225)
  line L34 (31.9421, -63.4225) -> (19.9421, -75.4225) construction
  line L35 (19.9421, -63.4225) -> (31.9421, -75.4225) construction
  line L36 (31.9421, -82.417) -> (19.9421, -82.417)
  line L37 (19.9421, -82.417) -> (19.9421, -94.417)
  line L38 (19.9421, -94.417) -> (31.9421, -94.417)
  line L39 (31.9421, -94.417) -> (31.9421, -82.417)
  line L40 (31.9421, -82.417) -> (19.9421, -94.417) construction
  line L41 (19.9421, -82.417) -> (31.9421, -94.417) construction
  line L42 (12.9476, -101.4115) -> (0.9476, -101.4115)
  line L43 (0.9476, -101.4115) -> (0.9476, -113.4115)
  line L44 (0.9476, -113.4115) -> (12.9476, -113.4115)
  line L45 (12.9476, -113.4115) -> (12.9476, -101.4115)
  line L46 (12.9476, -101.4115) -> (0.9476, -113.4115) construction
  line L47 (0.9476, -101.4115) -> (12.9476, -113.4115) construction
  line L48 (19.9421, -101.4115) -> (31.9421, -101.4115)
  line L49 (31.9421, -101.4115) -> (31.9421, -113.4115)
  line L50 (31.9421, -113.4115) -> (19.9421, -113.4115)
  line L51 (19.9421, -113.4115) -> (19.9421, -101.4115)
  line L52 (19.9421, -101.4115) -> (31.9421, -113.4115) construction
  line L53 (31.9421, -101.4115) -> (19.9421, -113.4115) construction
  line L54 (13.9476, -81.417) -> (-0.0524, -81.417)
  line L55 (-0.0524, -81.417) -> (-0.0524, -95.417)
  line L56 (-0.0524, -95.417) -> (13.9476, -95.417)
  line L57 (13.9476, -95.417) -> (13.9476, -81.417)
  line L58 (13.9476, -81.417) -> (-0.0524, -95.417) construction
  line L59 (-0.0524, -81.417) -> (13.9476, -95.417) construction
  line L60 (18.9421, -62.4225) -> (32.9421, -62.4225)
  line L61 (32.9421, -62.4225) -> (32.9421, -76.4225)
  line L62 (32.9421, -76.4225) -> (18.9421, -76.4225)
  line L63 (18.9421, -76.4225) -> (18.9421, -62.4225)
  line L64 (18.9421, -62.4225) -> (32.9421, -76.4225) construction
  line L65 (32.9421, -62.4225) -> (18.9421, -76.4225) construction
  line L66 (18.9421, -81.417) -> (32.9421, -81.417)
  line L67 (32.9421, -81.417) -> (32.9421, -95.417)
  line L68 (32.9421, -95.417) -> (18.9421, -95.417)
  line L69 (18.9421, -95.417) -> (18.9421, -81.417)
  line L70 (18.9421, -81.417) -> (32.9421, -95.417) construction
  line L71 (32.9421, -81.417) -> (18.9421, -95.417) construction
  line L72 (-0.0524, -100.4115) -> (13.9476, -100.4115)
  line L73 (13.9476, -100.4115) -> (13.9476, -114.4115)
  line L74 (13.9476, -114.4115) -> (-0.0524, -114.4115)
  line L75 (-0.0524, -114.4115) -> (-0.0524, -100.4115)
  line L76 (-0.0524, -100.4115) -> (13.9476, -114.4115) construction
  line L77 (13.9476, -100.4115) -> (-0.0524, -114.4115) construction
  line L78 (18.9421, -100.4115) -> (32.9421, -100.4115)
  line L79 (32.9421, -100.4115) -> (32.9421, -114.4115)
  line L80 (32.9421, -114.4115) -> (18.9421, -114.4115)
  line L81 (18.9421, -114.4115) -> (18.9421, -100.4115)
  line L82 (18.9421, -100.4115) -> (32.9421, -114.4115) construction
  line L83 (32.9421, -100.4115) -> (18.9421, -114.4115) construction
  point P0 (6.9476, -88.417)
  point P1 (25.9421, -69.4225)
  point P2 (25.9421, -88.417)
  point P3 (6.9476, -107.4115)
  point P4 (25.9421, -107.4115)
  point P5 (6.9476, -88.417)
  point P6 (25.9421, -69.4225)
  point P7 (25.9421, -88.417)
  point P8 (6.9476, -107.4115)
  point P9 (25.9421, -107.4115)
  dimension "d43" = 12
  dimension "d44" = 12
  dimension "d45" = 12
  dimension "d46" = 12
  dimension "d47" = 12
  dimension "d48" = 12
  dimension "d49" = 12
  dimension "d50" = 12
  dimension "d51" = 12
  dimension "d52" = 12
  dimension "d57" = 14
  dimension "d58" = 14
  dimension "d59" = 14
  dimension "d60" = 14
  dimension "d61" = 14
  dimension "d62" = 14
  dimension "d63" = 14
  dimension "d64" = 14
  dimension "d65" = 14
  dimension "d66" = 14
extrude "Extrude7" cut sketch "Sketch6" against normal blind 1.5 contours A8 A51 | A9 A52 | A10 A53 | A11 A54 | A12 A55 | A13 A56 | A14 A57 | A15 A58 | A16 A59 | A17 A60 | A32 A75 | A33 A76 | A34 A77 | A35 A78 | A36 A79 | A37 A80 | A38 A81 | A39 A82 | A40 A83 | A41 A84 | A42 A85 | A43 A86 | A44 A87 | A45 A88 | A46 A89 | L24 L25 L26 L27 | L30 L31 L32 L33 | L36 L37 L38 L39 | L42 L43 L44 L45 | L48 L49 L50 L51 bodies 5
fillet "Fillet1" radius 1 8 edges at (-50.6708, 6.5, -47.8999) (17.375, 6.5, -47.8999) (-16.6479, 0, -47.8999) (-50.6708, 0, -100.4289) (-50.6708, 6.5, -152.9579) (17.375, 0, -100.4289) (17.375, 6.5, -152.9579) (-16.6479, 0, -152.9579) on bodies 1
extrude "Extrude8" cut sketch "Sketch6" against normal blind 1.5 contours L24 L25 L26 L27 | L54 L55 L56 L57 bodies 5
extrude "Extrude9" cut sketch "Sketch6" against normal blind 1.5 contours L30 L31 L32 L33 | L36 L37 L38 L39 | L42 L43 L44 L45 | L48 L49 L50 L51 | L60 L61 L62 L63 | L66 L67 L68 L69 | L72 L73 L74 L75 | L78 L79 L80 L81 bodies 5
component "top cover" placed x (1, 0, 0) y (0, 1, 0) z (0, 0, 1) at (0, 0, 0)
